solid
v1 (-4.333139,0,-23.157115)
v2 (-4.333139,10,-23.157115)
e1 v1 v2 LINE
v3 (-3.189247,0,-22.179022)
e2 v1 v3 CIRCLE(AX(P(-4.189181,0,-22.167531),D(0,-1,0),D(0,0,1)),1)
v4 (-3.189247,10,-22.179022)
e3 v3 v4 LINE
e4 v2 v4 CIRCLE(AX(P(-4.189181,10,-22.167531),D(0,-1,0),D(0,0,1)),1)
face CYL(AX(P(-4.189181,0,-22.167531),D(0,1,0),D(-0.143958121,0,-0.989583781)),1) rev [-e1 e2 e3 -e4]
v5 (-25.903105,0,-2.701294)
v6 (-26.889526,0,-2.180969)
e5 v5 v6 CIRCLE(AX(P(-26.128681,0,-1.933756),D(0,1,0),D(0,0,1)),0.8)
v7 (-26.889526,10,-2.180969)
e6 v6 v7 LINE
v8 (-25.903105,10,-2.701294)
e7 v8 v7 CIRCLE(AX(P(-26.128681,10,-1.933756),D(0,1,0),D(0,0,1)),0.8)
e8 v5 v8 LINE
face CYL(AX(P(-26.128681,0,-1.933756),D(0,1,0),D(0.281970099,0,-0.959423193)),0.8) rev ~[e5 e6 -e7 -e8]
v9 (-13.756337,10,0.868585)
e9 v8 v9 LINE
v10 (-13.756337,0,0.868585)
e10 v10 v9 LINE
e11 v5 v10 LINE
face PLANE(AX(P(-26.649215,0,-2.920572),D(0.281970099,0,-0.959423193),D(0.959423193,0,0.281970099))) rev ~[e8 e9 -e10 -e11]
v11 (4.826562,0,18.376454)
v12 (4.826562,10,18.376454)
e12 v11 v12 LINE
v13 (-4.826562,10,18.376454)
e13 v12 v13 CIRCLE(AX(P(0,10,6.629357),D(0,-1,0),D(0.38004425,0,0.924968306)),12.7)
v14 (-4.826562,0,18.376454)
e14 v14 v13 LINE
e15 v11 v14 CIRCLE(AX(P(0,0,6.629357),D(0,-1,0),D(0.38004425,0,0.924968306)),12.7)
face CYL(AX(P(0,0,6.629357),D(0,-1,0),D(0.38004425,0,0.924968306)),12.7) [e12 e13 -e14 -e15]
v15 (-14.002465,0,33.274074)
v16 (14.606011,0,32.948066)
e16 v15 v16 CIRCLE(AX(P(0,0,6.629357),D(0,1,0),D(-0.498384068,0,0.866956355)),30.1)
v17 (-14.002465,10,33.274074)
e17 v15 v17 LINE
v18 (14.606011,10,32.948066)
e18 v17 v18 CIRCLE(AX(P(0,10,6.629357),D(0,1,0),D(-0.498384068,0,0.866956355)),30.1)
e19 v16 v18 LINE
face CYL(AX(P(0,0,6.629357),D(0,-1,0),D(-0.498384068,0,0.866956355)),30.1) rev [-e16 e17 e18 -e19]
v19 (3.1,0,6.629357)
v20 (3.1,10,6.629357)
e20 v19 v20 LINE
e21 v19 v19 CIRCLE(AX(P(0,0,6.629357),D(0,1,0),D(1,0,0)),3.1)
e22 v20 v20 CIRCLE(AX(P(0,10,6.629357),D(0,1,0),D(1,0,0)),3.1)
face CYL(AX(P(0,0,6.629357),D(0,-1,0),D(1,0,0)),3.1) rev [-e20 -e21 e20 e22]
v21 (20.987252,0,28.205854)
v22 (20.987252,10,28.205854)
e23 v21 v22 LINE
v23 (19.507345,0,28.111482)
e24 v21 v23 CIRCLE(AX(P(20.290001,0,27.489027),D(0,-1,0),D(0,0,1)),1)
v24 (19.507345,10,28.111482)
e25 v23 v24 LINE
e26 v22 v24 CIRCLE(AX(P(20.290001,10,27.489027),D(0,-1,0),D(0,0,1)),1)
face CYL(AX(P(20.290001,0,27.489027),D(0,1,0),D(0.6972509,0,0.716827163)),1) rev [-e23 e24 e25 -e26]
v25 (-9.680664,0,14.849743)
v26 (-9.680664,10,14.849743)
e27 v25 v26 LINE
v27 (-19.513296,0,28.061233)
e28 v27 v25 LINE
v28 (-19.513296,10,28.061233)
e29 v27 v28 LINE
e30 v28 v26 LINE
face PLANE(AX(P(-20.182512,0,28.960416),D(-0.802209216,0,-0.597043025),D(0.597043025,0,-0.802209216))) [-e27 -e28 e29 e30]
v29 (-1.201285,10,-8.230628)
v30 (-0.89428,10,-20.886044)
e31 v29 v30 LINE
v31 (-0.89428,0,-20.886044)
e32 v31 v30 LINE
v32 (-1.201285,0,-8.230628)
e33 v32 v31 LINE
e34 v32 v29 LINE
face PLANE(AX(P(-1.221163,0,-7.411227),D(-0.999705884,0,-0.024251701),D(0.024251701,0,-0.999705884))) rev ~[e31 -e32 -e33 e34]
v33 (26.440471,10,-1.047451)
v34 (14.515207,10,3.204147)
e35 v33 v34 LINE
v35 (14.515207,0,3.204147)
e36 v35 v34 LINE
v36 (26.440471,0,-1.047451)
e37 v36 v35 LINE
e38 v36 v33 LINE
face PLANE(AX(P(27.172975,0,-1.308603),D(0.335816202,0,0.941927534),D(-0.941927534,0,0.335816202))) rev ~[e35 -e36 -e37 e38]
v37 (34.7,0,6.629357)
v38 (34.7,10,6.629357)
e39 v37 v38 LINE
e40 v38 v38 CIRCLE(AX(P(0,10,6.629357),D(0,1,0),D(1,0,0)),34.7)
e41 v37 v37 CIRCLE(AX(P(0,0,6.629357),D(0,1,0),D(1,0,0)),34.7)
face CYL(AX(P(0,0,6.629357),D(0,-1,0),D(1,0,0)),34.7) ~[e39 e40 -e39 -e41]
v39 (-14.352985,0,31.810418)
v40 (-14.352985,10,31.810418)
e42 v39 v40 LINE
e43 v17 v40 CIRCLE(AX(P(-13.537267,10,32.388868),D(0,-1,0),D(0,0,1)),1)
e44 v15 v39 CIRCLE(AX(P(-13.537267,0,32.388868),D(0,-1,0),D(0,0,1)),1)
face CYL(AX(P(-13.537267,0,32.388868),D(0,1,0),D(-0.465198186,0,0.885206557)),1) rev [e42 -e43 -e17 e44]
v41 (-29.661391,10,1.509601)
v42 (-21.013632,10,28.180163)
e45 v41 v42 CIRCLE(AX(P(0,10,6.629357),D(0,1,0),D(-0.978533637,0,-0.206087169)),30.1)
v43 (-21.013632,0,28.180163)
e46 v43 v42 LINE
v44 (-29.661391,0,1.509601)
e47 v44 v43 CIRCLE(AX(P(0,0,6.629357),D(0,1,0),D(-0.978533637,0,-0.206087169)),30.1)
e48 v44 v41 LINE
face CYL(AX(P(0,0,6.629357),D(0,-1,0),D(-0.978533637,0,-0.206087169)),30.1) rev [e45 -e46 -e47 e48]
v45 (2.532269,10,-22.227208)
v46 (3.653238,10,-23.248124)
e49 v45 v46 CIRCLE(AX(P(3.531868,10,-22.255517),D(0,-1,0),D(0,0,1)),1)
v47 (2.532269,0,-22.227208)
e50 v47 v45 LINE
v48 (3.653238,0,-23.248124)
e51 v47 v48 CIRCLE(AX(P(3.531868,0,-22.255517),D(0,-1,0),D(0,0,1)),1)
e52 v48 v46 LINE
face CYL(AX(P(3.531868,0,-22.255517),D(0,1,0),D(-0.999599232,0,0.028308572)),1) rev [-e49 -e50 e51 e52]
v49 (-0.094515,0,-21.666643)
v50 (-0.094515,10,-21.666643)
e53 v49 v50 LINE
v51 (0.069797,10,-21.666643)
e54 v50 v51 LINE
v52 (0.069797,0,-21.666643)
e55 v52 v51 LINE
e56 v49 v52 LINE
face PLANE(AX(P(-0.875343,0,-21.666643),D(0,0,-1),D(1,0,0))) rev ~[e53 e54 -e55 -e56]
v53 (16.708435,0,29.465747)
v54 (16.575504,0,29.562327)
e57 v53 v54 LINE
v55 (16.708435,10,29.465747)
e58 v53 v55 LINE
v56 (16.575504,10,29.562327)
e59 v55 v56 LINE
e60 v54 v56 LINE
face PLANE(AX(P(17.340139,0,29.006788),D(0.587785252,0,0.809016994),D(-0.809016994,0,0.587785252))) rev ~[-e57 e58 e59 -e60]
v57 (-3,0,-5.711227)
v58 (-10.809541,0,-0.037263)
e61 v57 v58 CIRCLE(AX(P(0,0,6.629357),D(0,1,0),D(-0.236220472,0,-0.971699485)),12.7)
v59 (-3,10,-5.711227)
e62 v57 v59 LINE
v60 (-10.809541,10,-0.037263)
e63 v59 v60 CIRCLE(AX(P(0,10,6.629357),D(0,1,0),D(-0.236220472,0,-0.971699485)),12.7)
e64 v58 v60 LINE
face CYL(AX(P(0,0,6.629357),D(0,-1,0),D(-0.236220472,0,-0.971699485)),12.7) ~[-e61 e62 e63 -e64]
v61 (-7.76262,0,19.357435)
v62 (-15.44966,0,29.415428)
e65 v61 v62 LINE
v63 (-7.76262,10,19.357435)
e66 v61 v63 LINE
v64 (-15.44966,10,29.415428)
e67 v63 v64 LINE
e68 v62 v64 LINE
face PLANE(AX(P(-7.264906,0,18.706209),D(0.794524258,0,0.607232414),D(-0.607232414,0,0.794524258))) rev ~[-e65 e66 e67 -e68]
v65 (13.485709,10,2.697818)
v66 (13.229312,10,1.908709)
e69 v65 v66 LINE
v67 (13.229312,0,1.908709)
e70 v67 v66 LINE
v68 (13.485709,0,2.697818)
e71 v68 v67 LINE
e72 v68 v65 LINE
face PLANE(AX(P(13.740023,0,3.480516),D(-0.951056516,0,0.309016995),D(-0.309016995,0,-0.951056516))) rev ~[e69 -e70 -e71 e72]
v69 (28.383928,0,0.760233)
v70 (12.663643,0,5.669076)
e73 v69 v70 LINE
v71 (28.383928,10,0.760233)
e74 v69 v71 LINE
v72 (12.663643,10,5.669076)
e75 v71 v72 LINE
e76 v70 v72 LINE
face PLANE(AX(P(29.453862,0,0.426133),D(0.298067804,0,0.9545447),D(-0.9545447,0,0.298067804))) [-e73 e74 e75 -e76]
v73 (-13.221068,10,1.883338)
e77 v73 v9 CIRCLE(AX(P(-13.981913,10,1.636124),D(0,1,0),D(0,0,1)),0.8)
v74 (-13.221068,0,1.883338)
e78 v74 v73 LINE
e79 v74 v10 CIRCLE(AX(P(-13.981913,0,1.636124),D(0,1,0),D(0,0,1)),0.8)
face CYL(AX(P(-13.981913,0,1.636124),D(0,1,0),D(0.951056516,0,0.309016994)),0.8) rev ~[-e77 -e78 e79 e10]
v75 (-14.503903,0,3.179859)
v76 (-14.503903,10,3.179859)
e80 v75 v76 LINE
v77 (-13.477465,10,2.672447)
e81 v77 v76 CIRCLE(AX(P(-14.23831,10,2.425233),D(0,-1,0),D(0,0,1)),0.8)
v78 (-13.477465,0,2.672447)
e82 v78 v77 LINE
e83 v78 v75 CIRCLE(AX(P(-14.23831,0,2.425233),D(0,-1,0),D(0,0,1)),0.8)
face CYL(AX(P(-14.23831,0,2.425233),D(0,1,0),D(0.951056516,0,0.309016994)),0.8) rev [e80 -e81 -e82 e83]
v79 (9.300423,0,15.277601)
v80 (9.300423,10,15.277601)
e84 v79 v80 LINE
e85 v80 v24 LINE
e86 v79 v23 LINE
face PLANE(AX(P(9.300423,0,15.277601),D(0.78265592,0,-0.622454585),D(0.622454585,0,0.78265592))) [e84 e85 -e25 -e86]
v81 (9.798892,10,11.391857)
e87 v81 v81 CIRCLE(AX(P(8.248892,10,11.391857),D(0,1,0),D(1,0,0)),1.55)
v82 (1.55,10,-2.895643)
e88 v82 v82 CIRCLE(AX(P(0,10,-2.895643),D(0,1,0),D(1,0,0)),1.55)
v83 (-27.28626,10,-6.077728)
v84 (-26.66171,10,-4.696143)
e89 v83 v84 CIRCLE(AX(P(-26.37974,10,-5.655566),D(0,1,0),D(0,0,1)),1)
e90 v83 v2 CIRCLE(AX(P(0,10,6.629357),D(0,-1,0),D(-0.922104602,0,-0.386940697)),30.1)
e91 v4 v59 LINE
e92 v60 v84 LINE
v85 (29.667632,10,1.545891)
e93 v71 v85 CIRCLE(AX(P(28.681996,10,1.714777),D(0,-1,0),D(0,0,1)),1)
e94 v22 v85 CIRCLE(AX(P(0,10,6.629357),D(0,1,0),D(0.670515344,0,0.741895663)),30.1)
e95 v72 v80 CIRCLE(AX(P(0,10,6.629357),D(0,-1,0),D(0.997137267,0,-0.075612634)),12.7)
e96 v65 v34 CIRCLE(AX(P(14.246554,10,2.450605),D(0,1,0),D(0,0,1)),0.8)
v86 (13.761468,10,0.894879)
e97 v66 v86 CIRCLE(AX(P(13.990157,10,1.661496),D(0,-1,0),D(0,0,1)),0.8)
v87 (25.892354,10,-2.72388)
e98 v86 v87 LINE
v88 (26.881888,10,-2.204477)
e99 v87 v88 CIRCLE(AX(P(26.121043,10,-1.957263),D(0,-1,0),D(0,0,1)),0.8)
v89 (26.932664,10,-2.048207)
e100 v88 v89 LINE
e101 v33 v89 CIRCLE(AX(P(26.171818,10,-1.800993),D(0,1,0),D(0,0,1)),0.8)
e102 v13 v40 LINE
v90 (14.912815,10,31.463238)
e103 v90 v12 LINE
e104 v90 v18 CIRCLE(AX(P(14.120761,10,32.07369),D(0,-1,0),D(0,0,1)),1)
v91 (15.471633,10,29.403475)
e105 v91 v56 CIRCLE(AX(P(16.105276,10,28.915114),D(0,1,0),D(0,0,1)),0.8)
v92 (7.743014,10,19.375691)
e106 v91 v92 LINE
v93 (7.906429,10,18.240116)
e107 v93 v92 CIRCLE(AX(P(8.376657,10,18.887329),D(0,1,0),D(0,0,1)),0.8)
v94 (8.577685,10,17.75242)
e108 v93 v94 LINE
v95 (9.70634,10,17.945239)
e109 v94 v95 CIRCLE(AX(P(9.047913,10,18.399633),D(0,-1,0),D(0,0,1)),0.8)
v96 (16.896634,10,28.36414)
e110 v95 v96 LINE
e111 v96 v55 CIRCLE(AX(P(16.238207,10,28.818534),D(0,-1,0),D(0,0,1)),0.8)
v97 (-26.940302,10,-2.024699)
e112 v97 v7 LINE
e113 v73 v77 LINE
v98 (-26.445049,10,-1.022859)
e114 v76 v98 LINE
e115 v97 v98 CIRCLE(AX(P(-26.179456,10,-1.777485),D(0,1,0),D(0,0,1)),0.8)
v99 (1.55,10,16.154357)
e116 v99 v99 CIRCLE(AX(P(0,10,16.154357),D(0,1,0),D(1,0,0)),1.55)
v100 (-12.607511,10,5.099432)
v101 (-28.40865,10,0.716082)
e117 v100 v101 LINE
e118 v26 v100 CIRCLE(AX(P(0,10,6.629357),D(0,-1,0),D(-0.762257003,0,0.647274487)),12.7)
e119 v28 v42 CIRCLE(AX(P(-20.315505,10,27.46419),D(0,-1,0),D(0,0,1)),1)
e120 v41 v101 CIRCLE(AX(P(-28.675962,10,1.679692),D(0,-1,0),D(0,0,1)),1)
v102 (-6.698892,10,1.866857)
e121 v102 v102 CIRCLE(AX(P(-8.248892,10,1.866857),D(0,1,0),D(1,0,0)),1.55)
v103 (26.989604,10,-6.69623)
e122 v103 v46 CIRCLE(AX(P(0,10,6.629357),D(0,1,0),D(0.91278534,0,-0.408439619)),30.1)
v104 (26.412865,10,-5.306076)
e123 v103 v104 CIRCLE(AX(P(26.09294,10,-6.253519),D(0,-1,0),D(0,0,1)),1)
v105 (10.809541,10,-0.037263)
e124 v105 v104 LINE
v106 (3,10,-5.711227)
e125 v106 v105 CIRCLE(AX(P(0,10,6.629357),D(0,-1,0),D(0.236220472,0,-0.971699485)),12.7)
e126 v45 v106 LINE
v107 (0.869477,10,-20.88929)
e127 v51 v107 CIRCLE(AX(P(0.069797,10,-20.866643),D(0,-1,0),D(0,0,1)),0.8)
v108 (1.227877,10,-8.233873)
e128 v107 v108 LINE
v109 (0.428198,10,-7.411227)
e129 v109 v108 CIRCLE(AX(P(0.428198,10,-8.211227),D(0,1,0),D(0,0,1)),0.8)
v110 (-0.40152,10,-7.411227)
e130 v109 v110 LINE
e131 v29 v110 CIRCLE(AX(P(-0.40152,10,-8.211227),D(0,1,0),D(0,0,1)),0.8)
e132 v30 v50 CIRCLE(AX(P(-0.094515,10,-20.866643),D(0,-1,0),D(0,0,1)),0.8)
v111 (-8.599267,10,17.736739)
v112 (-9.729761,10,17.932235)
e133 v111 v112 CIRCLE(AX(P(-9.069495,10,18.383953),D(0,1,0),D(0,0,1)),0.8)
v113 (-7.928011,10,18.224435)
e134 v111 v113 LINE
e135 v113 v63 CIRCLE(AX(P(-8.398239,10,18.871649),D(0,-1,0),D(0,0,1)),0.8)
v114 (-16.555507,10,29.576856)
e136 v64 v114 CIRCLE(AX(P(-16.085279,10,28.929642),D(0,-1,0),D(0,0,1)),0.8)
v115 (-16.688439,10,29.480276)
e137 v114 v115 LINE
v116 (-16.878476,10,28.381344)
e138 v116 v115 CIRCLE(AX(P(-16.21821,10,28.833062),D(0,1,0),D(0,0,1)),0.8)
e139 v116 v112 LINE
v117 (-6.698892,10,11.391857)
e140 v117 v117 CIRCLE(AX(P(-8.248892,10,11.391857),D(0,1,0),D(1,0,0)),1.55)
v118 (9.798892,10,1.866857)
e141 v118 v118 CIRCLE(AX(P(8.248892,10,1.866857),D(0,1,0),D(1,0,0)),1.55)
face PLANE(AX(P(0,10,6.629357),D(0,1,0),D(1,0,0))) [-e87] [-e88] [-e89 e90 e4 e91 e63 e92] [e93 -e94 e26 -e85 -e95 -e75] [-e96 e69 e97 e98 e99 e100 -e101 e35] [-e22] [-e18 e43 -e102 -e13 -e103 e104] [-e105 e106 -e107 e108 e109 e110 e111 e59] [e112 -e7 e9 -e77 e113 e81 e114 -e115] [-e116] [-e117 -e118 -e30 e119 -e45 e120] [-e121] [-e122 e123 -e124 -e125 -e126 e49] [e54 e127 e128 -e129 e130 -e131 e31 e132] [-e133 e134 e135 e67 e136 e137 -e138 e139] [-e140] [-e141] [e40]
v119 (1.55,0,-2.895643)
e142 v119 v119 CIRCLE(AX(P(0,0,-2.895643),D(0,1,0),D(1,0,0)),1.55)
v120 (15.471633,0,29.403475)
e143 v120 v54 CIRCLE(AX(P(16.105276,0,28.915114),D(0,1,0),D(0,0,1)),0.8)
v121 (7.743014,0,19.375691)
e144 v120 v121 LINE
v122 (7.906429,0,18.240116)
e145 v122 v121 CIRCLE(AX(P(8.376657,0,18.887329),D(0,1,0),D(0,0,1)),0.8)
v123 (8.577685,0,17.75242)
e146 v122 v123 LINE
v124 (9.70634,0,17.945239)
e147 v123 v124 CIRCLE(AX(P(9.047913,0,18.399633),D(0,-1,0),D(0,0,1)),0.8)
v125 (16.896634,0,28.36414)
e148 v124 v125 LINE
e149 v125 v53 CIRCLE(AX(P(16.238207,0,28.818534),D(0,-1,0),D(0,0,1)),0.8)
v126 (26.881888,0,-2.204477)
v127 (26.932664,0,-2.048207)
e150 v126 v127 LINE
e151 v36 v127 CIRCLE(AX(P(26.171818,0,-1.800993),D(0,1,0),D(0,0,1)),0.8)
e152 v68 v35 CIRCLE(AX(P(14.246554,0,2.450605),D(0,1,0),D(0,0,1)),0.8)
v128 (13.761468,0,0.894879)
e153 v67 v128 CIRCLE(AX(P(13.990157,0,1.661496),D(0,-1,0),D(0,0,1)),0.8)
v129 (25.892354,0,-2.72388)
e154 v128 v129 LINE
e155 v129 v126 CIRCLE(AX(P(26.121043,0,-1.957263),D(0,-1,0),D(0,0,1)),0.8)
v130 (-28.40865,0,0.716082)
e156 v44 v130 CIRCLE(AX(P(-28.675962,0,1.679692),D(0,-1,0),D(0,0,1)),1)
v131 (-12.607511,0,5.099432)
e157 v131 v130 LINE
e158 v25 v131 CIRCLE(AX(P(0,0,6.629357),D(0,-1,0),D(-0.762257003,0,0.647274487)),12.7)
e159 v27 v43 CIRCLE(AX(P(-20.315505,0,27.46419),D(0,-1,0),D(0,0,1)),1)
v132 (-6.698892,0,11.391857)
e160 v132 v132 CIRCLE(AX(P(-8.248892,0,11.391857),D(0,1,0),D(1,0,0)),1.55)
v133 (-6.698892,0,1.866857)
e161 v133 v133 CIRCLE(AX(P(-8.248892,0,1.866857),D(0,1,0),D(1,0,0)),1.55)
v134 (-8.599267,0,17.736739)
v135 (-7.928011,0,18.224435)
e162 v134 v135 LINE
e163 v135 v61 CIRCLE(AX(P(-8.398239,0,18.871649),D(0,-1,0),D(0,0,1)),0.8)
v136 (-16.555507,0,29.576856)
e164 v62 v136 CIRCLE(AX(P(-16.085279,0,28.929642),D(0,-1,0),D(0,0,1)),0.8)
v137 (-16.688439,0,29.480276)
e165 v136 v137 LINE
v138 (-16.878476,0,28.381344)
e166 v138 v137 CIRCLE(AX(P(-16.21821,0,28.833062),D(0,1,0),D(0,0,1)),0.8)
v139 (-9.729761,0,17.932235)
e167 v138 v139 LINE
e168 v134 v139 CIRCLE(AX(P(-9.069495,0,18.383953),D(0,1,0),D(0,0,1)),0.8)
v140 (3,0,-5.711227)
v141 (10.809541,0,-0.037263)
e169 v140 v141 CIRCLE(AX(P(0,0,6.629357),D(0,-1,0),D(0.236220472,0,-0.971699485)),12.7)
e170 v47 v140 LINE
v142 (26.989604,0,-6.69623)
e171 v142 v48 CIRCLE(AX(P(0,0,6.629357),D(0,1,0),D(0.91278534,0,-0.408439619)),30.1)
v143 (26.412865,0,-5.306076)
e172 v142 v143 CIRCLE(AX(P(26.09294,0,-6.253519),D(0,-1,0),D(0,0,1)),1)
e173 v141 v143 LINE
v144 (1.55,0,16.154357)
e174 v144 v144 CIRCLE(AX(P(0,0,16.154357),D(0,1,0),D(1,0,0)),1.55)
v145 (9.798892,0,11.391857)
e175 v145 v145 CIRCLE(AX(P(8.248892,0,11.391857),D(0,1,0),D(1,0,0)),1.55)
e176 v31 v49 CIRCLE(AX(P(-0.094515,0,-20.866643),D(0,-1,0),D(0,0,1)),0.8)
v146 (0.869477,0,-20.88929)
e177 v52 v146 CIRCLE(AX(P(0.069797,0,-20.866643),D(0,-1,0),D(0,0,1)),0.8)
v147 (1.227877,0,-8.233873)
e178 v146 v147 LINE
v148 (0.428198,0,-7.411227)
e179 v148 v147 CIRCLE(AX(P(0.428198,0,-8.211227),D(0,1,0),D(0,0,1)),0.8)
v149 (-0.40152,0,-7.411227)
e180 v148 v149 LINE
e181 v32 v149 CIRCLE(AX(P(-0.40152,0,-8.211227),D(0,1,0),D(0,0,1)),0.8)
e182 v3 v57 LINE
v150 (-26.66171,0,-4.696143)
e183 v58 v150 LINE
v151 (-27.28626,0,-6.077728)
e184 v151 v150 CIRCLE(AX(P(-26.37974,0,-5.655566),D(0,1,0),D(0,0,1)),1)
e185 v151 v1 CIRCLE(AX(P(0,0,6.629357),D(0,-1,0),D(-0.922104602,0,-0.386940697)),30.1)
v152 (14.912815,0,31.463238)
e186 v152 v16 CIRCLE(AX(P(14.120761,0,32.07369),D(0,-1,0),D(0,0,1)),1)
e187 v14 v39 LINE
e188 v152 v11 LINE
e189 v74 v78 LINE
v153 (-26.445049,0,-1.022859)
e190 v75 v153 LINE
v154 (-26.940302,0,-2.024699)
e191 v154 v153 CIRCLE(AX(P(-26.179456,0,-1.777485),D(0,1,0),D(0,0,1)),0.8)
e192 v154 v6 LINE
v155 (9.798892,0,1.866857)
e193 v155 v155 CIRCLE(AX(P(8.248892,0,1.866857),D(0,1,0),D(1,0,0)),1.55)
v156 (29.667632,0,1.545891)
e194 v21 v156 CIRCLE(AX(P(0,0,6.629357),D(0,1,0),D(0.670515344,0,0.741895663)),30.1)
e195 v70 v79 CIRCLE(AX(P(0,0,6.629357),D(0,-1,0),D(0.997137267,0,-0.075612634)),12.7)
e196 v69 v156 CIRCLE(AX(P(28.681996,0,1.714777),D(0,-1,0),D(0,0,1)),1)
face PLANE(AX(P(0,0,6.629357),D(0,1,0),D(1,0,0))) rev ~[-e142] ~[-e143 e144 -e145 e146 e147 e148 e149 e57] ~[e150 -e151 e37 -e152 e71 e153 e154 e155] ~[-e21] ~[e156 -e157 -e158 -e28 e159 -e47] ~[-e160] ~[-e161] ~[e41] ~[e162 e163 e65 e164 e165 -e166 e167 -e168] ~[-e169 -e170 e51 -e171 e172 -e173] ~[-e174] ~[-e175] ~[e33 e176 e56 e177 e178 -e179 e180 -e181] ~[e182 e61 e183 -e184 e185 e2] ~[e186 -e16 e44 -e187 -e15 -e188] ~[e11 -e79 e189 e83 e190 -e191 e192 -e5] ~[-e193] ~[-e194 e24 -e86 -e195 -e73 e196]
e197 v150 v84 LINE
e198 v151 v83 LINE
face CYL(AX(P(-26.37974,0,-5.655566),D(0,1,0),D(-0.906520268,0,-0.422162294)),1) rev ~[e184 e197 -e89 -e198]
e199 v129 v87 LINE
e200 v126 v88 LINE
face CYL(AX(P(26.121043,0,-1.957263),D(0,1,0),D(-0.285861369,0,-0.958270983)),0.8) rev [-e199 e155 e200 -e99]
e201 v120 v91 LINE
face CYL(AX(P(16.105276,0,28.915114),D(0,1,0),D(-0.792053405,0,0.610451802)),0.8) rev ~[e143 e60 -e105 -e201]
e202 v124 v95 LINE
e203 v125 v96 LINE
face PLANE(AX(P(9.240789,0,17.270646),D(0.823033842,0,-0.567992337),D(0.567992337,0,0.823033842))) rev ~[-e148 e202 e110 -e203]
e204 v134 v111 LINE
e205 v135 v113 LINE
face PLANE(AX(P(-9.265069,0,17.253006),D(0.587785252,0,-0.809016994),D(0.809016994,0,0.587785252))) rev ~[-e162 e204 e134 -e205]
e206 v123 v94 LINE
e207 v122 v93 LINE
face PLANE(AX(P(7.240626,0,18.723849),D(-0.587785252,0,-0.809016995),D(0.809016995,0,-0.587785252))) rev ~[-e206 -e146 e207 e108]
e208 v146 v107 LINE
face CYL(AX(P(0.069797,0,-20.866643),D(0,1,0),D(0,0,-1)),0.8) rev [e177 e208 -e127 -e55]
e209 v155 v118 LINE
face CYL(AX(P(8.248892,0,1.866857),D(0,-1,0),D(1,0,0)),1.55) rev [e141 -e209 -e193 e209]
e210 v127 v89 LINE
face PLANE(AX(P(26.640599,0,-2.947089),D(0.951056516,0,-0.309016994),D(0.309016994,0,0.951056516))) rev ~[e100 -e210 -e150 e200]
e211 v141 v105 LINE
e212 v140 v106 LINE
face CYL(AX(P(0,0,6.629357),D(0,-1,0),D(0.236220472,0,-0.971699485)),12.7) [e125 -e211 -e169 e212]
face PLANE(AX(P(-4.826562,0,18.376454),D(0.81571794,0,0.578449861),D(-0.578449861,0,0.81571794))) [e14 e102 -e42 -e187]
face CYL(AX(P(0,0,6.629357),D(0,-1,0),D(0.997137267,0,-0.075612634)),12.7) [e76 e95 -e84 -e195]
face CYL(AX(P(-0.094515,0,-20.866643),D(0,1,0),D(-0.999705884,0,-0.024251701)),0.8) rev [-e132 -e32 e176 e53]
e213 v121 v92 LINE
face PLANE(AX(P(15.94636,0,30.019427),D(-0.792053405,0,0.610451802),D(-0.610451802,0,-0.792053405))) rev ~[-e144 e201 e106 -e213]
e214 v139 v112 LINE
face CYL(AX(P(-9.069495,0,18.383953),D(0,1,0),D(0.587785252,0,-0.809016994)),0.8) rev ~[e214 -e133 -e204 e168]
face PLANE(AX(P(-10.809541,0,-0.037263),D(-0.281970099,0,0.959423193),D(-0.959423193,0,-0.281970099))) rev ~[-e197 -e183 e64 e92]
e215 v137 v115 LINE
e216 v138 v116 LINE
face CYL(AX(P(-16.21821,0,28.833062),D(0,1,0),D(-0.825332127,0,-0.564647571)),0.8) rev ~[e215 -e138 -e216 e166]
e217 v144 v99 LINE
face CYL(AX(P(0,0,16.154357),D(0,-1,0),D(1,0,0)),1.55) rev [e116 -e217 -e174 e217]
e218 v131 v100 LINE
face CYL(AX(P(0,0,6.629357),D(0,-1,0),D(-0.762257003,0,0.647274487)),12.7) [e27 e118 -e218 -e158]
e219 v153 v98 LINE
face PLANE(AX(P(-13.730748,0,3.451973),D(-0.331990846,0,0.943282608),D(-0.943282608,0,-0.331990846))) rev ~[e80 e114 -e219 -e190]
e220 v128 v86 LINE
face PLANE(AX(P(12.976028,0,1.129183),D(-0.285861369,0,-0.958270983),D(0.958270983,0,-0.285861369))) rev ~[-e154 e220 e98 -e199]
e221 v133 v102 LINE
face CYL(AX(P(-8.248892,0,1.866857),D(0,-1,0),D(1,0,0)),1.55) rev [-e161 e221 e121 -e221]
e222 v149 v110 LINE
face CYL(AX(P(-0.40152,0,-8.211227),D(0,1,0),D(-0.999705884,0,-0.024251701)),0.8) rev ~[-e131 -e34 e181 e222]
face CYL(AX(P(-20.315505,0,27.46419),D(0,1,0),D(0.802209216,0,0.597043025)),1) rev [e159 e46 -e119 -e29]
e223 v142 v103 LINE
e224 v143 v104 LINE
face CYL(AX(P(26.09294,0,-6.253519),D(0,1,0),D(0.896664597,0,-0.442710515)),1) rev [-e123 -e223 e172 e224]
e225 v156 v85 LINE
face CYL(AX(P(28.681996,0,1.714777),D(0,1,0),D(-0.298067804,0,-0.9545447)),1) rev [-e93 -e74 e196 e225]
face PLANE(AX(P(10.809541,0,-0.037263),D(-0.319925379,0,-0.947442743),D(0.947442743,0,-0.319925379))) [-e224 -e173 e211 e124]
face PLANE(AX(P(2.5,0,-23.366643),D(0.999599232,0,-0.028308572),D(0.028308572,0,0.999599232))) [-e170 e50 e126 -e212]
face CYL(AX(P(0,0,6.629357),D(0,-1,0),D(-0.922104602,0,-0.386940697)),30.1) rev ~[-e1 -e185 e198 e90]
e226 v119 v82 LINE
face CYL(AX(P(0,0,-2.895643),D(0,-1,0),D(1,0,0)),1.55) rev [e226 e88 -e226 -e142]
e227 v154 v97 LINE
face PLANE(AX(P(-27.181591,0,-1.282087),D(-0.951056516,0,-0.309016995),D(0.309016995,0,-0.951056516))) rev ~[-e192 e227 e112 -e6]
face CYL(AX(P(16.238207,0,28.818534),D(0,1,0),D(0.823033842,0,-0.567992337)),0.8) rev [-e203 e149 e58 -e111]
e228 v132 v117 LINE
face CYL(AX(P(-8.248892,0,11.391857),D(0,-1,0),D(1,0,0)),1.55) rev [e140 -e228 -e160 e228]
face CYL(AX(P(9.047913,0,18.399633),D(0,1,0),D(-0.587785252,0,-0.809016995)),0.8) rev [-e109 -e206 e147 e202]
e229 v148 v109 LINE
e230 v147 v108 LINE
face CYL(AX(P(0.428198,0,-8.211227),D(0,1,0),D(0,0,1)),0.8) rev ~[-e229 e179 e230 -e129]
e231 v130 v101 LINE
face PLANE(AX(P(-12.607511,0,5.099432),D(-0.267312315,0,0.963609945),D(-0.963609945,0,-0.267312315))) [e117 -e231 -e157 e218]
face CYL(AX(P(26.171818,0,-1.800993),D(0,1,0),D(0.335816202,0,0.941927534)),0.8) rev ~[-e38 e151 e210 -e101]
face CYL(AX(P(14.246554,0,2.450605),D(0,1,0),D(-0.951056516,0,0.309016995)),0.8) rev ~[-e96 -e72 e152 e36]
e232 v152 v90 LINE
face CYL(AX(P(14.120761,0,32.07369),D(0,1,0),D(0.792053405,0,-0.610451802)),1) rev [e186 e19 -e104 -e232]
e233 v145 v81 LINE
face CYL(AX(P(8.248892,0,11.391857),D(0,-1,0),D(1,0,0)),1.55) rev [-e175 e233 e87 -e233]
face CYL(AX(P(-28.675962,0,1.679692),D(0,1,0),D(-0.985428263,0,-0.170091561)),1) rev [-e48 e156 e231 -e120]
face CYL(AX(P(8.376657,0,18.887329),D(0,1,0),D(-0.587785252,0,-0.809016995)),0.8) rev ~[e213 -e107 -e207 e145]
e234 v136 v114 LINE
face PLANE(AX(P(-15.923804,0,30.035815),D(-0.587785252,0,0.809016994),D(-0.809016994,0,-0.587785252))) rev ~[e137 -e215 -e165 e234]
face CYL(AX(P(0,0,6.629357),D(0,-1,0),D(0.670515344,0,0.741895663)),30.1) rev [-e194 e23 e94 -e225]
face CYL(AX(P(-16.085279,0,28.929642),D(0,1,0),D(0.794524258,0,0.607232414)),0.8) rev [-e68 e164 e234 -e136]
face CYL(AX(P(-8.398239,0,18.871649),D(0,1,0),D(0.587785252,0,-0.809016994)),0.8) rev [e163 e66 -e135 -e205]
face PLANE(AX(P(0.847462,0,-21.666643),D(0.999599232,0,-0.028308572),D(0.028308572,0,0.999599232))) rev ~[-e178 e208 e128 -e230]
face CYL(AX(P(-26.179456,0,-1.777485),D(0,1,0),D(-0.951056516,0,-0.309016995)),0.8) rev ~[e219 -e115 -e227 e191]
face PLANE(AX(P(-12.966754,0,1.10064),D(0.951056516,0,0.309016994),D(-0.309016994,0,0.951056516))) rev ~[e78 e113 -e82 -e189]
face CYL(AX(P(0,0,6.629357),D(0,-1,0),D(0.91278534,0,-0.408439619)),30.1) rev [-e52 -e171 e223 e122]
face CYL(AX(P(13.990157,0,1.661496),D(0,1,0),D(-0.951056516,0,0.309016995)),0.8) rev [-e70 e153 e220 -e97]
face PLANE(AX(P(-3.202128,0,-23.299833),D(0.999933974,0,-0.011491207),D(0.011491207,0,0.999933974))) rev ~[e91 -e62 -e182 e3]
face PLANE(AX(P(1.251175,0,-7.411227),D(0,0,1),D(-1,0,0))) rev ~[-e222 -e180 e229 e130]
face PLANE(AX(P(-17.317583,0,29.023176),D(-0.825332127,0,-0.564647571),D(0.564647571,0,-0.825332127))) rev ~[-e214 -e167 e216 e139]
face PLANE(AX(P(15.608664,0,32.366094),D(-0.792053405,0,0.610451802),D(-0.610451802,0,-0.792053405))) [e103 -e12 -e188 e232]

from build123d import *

# Parameters (mm, degrees)
SKETCH1_R           = 34.7
SKETCH1_R_2         = 1.55
SKETCH1_R_3         = 3.1
BOSS_EXTRUDE1_DEPTH = 10
FILLET2_R           = 1
FILLET3_R           = 0.8


with BuildPart() as part:
    # Sketch1 → Boss-Extrude1 (new body)
    with BuildSketch(Plane(origin=(0, 0, 0), x_dir=(1, 0, 0), z_dir=(0, 1, 0))):
        with Locations((0, -6.629356842)):
            Circle(SKETCH1_R)
        with Locations((0, 2.895643158)):
            Circle(SKETCH1_R_2, mode=Mode.SUBTRACT)
        with Locations((-8.248891971, -1.866856842)):
            Circle(SKETCH1_R_2, mode=Mode.SUBTRACT)
        with Locations((-8.248891971, -11.391856842)):
            Circle(SKETCH1_R_2, mode=Mode.SUBTRACT)
        with Locations((0, -16.154356842)):
            Circle(SKETCH1_R_2, mode=Mode.SUBTRACT)
        with Locations((8.248891971, -1.866856842)):
            Circle(SKETCH1_R_2, mode=Mode.SUBTRACT)
        with Locations((0, -6.629356842)):
            Circle(SKETCH1_R_3, mode=Mode.SUBTRACT)
        with Locations((8.248891971, -11.391856842)):
            Circle(SKETCH1_R_2, mode=Mode.SUBTRACT)
        with BuildLine():
            Line((-3.20212766, 23.299832563), (-3, 5.711226612))
            ThreePointArc((-3, 5.711226612), (-7.464872704, 3.645158986), (-10.809541326, 0.037262715))
            Line((-10.809541326, 0.037262715), (-27.755348523, 5.017558129))
            ThreePointArc((-27.755348523, 5.017558129), (-17.976421293, 17.513101141), (-3.20212766, 23.299832563))
        make_face(mode=Mode.SUBTRACT)
        with BuildLine():
            Line((2.5, 23.366642891), (3, 5.711226612))
            ThreePointArc((3, 5.711226612), (7.464872704, 3.645158986), (10.809541326, 0.037262715))
            Line((10.809541326, 0.037262715), (27.474838746, 5.664675689))
            ThreePointArc((27.474838746, 5.664675689), (17.405822307, 17.927665571), (2.5, 23.366642891))
        make_face(mode=Mode.SUBTRACT)
        Polygon((-0.875343089, 21.666642891), (0.847462288, 21.666642891), (1.251174555, 7.411226612), (-1.221162893, 7.411226612), align=None, mode=Mode.SUBTRACT)
        Polygon((12.9760283, -1.129183017), (26.640599041, 2.947088697), (27.17297518, 1.308603417), (13.740022588, -3.480515657), align=None, mode=Mode.SUBTRACT)
        with BuildLine():
            Line((29.453862476, -0.426133065), (12.663643293, -5.669076383))
            ThreePointArc((12.663643293, -5.669076383), (11.986909153, -10.825070007), (9.300423223, -15.27760105))
            Line((9.300423223, -15.27760105), (20.18251184, -28.960416285))
            ThreePointArc((20.18251184, -28.960416285), (28.62680114, -15.930768373), (29.453862476, -0.426133065))
        make_face(mode=Mode.SUBTRACT)
        Polygon((9.240789422, -17.270645929), (17.340138777, -29.006787741), (15.946359949, -30.019427334), (7.24062641, -18.723849419), align=None, mode=Mode.SUBTRACT)
        with BuildLine():
            Line((15.608663785, -32.36609352), (4.826561976, -18.376454334))
            ThreePointArc((4.826561976, -18.376454334), (0, -19.329356842), (-4.826561976, -18.376454334))
            Line((-4.826561976, -18.376454334), (-15.001360451, -32.724743113))
            ThreePointArc((-15.001360451, -32.724743113), (0.352649568, -36.727290962), (15.608663785, -32.36609352))
        make_face(mode=Mode.SUBTRACT)
        Polygon((-7.264906355, -18.706209007), (-15.923803908, -30.035815257), (-17.317582735, -29.023175665), (-9.265069366, -17.253005516), align=None, mode=Mode.SUBTRACT)
        with BuildLine():
            Line((-20.18251184, -28.960416285), (-9.680663942, -14.849742821))
            ThreePointArc((-9.680663942, -14.849742821), (-12.163791536, -10.280682009), (-12.607510846, -5.099431917))
            Line((-12.607510846, -5.099431917), (-29.453862476, -0.426133065))
            ThreePointArc((-29.453862476, -0.426133065), (-28.62680114, -15.930768373), (-20.18251184, -28.960416285))
        make_face(mode=Mode.SUBTRACT)
        Polygon((-13.730748474, -3.451972871), (-27.181590822, 1.2820872), (-26.649214682, 2.920572479), (-12.966754187, -1.10064023), align=None, mode=Mode.SUBTRACT)
    extrude(amount=BOSS_EXTRUDE1_DEPTH)

    # Fillet2
    fillet2_edges = [part.edges().sort_by_distance(p)[0] for p in [
        (15.608663785, 5, 32.36609352),
        (-29.453862476, 5, 0.426133065),
        (-20.18251184, 5, 28.960416285),
        (27.474838746, 5, -5.664675689),
        (2.5, 5, -23.366642891),
        (-3.20212766, 5, -23.299832563),
        (-27.755348523, 5, -5.017558129),
        (20.18251184, 5, 28.960416285),
        (29.453862476, 5, 0.426133065),
        (-15.001360451, 5, 32.724743113),
    ]]
    fillet(fillet2_edges, radius=FILLET2_R)

    # Fillet3
    fillet3_edges = [part.edges().sort_by_distance(p)[0] for p in [
        (15.946359949, 5, 30.019427334),
        (17.340138777, 5, 29.006787741),
        (9.240789422, 5, 17.270645929),
        (7.24062641, 5, 18.723849419),
        (-17.317582735, 5, 29.023175665),
        (-15.923803908, 5, 30.035815257),
        (-7.264906355, 5, 18.706209007),
        (-9.265069366, 5, 17.253005516),
        (-26.649214682, 5, -2.920572479),
        (-27.181590822, 5, -1.2820872),
        (-13.730748474, 5, 3.451972871),
        (-12.966754187, 5, 1.10064023),
        (-0.875343089, 5, -21.666642891),
        (-1.221162893, 5, -7.411226612),
        (1.251174555, 5, -7.411226612),
        (0.847462288, 5, -21.666642891),
        (27.17297518, 5, -1.308603417),
        (26.640599041, 5, -2.947088697),
        (12.9760283, 5, 1.129183017),
        (13.740022588, 5, 3.480515657),
    ]]
    fillet(fillet3_edges, radius=FILLET3_R)


solid = part.part
